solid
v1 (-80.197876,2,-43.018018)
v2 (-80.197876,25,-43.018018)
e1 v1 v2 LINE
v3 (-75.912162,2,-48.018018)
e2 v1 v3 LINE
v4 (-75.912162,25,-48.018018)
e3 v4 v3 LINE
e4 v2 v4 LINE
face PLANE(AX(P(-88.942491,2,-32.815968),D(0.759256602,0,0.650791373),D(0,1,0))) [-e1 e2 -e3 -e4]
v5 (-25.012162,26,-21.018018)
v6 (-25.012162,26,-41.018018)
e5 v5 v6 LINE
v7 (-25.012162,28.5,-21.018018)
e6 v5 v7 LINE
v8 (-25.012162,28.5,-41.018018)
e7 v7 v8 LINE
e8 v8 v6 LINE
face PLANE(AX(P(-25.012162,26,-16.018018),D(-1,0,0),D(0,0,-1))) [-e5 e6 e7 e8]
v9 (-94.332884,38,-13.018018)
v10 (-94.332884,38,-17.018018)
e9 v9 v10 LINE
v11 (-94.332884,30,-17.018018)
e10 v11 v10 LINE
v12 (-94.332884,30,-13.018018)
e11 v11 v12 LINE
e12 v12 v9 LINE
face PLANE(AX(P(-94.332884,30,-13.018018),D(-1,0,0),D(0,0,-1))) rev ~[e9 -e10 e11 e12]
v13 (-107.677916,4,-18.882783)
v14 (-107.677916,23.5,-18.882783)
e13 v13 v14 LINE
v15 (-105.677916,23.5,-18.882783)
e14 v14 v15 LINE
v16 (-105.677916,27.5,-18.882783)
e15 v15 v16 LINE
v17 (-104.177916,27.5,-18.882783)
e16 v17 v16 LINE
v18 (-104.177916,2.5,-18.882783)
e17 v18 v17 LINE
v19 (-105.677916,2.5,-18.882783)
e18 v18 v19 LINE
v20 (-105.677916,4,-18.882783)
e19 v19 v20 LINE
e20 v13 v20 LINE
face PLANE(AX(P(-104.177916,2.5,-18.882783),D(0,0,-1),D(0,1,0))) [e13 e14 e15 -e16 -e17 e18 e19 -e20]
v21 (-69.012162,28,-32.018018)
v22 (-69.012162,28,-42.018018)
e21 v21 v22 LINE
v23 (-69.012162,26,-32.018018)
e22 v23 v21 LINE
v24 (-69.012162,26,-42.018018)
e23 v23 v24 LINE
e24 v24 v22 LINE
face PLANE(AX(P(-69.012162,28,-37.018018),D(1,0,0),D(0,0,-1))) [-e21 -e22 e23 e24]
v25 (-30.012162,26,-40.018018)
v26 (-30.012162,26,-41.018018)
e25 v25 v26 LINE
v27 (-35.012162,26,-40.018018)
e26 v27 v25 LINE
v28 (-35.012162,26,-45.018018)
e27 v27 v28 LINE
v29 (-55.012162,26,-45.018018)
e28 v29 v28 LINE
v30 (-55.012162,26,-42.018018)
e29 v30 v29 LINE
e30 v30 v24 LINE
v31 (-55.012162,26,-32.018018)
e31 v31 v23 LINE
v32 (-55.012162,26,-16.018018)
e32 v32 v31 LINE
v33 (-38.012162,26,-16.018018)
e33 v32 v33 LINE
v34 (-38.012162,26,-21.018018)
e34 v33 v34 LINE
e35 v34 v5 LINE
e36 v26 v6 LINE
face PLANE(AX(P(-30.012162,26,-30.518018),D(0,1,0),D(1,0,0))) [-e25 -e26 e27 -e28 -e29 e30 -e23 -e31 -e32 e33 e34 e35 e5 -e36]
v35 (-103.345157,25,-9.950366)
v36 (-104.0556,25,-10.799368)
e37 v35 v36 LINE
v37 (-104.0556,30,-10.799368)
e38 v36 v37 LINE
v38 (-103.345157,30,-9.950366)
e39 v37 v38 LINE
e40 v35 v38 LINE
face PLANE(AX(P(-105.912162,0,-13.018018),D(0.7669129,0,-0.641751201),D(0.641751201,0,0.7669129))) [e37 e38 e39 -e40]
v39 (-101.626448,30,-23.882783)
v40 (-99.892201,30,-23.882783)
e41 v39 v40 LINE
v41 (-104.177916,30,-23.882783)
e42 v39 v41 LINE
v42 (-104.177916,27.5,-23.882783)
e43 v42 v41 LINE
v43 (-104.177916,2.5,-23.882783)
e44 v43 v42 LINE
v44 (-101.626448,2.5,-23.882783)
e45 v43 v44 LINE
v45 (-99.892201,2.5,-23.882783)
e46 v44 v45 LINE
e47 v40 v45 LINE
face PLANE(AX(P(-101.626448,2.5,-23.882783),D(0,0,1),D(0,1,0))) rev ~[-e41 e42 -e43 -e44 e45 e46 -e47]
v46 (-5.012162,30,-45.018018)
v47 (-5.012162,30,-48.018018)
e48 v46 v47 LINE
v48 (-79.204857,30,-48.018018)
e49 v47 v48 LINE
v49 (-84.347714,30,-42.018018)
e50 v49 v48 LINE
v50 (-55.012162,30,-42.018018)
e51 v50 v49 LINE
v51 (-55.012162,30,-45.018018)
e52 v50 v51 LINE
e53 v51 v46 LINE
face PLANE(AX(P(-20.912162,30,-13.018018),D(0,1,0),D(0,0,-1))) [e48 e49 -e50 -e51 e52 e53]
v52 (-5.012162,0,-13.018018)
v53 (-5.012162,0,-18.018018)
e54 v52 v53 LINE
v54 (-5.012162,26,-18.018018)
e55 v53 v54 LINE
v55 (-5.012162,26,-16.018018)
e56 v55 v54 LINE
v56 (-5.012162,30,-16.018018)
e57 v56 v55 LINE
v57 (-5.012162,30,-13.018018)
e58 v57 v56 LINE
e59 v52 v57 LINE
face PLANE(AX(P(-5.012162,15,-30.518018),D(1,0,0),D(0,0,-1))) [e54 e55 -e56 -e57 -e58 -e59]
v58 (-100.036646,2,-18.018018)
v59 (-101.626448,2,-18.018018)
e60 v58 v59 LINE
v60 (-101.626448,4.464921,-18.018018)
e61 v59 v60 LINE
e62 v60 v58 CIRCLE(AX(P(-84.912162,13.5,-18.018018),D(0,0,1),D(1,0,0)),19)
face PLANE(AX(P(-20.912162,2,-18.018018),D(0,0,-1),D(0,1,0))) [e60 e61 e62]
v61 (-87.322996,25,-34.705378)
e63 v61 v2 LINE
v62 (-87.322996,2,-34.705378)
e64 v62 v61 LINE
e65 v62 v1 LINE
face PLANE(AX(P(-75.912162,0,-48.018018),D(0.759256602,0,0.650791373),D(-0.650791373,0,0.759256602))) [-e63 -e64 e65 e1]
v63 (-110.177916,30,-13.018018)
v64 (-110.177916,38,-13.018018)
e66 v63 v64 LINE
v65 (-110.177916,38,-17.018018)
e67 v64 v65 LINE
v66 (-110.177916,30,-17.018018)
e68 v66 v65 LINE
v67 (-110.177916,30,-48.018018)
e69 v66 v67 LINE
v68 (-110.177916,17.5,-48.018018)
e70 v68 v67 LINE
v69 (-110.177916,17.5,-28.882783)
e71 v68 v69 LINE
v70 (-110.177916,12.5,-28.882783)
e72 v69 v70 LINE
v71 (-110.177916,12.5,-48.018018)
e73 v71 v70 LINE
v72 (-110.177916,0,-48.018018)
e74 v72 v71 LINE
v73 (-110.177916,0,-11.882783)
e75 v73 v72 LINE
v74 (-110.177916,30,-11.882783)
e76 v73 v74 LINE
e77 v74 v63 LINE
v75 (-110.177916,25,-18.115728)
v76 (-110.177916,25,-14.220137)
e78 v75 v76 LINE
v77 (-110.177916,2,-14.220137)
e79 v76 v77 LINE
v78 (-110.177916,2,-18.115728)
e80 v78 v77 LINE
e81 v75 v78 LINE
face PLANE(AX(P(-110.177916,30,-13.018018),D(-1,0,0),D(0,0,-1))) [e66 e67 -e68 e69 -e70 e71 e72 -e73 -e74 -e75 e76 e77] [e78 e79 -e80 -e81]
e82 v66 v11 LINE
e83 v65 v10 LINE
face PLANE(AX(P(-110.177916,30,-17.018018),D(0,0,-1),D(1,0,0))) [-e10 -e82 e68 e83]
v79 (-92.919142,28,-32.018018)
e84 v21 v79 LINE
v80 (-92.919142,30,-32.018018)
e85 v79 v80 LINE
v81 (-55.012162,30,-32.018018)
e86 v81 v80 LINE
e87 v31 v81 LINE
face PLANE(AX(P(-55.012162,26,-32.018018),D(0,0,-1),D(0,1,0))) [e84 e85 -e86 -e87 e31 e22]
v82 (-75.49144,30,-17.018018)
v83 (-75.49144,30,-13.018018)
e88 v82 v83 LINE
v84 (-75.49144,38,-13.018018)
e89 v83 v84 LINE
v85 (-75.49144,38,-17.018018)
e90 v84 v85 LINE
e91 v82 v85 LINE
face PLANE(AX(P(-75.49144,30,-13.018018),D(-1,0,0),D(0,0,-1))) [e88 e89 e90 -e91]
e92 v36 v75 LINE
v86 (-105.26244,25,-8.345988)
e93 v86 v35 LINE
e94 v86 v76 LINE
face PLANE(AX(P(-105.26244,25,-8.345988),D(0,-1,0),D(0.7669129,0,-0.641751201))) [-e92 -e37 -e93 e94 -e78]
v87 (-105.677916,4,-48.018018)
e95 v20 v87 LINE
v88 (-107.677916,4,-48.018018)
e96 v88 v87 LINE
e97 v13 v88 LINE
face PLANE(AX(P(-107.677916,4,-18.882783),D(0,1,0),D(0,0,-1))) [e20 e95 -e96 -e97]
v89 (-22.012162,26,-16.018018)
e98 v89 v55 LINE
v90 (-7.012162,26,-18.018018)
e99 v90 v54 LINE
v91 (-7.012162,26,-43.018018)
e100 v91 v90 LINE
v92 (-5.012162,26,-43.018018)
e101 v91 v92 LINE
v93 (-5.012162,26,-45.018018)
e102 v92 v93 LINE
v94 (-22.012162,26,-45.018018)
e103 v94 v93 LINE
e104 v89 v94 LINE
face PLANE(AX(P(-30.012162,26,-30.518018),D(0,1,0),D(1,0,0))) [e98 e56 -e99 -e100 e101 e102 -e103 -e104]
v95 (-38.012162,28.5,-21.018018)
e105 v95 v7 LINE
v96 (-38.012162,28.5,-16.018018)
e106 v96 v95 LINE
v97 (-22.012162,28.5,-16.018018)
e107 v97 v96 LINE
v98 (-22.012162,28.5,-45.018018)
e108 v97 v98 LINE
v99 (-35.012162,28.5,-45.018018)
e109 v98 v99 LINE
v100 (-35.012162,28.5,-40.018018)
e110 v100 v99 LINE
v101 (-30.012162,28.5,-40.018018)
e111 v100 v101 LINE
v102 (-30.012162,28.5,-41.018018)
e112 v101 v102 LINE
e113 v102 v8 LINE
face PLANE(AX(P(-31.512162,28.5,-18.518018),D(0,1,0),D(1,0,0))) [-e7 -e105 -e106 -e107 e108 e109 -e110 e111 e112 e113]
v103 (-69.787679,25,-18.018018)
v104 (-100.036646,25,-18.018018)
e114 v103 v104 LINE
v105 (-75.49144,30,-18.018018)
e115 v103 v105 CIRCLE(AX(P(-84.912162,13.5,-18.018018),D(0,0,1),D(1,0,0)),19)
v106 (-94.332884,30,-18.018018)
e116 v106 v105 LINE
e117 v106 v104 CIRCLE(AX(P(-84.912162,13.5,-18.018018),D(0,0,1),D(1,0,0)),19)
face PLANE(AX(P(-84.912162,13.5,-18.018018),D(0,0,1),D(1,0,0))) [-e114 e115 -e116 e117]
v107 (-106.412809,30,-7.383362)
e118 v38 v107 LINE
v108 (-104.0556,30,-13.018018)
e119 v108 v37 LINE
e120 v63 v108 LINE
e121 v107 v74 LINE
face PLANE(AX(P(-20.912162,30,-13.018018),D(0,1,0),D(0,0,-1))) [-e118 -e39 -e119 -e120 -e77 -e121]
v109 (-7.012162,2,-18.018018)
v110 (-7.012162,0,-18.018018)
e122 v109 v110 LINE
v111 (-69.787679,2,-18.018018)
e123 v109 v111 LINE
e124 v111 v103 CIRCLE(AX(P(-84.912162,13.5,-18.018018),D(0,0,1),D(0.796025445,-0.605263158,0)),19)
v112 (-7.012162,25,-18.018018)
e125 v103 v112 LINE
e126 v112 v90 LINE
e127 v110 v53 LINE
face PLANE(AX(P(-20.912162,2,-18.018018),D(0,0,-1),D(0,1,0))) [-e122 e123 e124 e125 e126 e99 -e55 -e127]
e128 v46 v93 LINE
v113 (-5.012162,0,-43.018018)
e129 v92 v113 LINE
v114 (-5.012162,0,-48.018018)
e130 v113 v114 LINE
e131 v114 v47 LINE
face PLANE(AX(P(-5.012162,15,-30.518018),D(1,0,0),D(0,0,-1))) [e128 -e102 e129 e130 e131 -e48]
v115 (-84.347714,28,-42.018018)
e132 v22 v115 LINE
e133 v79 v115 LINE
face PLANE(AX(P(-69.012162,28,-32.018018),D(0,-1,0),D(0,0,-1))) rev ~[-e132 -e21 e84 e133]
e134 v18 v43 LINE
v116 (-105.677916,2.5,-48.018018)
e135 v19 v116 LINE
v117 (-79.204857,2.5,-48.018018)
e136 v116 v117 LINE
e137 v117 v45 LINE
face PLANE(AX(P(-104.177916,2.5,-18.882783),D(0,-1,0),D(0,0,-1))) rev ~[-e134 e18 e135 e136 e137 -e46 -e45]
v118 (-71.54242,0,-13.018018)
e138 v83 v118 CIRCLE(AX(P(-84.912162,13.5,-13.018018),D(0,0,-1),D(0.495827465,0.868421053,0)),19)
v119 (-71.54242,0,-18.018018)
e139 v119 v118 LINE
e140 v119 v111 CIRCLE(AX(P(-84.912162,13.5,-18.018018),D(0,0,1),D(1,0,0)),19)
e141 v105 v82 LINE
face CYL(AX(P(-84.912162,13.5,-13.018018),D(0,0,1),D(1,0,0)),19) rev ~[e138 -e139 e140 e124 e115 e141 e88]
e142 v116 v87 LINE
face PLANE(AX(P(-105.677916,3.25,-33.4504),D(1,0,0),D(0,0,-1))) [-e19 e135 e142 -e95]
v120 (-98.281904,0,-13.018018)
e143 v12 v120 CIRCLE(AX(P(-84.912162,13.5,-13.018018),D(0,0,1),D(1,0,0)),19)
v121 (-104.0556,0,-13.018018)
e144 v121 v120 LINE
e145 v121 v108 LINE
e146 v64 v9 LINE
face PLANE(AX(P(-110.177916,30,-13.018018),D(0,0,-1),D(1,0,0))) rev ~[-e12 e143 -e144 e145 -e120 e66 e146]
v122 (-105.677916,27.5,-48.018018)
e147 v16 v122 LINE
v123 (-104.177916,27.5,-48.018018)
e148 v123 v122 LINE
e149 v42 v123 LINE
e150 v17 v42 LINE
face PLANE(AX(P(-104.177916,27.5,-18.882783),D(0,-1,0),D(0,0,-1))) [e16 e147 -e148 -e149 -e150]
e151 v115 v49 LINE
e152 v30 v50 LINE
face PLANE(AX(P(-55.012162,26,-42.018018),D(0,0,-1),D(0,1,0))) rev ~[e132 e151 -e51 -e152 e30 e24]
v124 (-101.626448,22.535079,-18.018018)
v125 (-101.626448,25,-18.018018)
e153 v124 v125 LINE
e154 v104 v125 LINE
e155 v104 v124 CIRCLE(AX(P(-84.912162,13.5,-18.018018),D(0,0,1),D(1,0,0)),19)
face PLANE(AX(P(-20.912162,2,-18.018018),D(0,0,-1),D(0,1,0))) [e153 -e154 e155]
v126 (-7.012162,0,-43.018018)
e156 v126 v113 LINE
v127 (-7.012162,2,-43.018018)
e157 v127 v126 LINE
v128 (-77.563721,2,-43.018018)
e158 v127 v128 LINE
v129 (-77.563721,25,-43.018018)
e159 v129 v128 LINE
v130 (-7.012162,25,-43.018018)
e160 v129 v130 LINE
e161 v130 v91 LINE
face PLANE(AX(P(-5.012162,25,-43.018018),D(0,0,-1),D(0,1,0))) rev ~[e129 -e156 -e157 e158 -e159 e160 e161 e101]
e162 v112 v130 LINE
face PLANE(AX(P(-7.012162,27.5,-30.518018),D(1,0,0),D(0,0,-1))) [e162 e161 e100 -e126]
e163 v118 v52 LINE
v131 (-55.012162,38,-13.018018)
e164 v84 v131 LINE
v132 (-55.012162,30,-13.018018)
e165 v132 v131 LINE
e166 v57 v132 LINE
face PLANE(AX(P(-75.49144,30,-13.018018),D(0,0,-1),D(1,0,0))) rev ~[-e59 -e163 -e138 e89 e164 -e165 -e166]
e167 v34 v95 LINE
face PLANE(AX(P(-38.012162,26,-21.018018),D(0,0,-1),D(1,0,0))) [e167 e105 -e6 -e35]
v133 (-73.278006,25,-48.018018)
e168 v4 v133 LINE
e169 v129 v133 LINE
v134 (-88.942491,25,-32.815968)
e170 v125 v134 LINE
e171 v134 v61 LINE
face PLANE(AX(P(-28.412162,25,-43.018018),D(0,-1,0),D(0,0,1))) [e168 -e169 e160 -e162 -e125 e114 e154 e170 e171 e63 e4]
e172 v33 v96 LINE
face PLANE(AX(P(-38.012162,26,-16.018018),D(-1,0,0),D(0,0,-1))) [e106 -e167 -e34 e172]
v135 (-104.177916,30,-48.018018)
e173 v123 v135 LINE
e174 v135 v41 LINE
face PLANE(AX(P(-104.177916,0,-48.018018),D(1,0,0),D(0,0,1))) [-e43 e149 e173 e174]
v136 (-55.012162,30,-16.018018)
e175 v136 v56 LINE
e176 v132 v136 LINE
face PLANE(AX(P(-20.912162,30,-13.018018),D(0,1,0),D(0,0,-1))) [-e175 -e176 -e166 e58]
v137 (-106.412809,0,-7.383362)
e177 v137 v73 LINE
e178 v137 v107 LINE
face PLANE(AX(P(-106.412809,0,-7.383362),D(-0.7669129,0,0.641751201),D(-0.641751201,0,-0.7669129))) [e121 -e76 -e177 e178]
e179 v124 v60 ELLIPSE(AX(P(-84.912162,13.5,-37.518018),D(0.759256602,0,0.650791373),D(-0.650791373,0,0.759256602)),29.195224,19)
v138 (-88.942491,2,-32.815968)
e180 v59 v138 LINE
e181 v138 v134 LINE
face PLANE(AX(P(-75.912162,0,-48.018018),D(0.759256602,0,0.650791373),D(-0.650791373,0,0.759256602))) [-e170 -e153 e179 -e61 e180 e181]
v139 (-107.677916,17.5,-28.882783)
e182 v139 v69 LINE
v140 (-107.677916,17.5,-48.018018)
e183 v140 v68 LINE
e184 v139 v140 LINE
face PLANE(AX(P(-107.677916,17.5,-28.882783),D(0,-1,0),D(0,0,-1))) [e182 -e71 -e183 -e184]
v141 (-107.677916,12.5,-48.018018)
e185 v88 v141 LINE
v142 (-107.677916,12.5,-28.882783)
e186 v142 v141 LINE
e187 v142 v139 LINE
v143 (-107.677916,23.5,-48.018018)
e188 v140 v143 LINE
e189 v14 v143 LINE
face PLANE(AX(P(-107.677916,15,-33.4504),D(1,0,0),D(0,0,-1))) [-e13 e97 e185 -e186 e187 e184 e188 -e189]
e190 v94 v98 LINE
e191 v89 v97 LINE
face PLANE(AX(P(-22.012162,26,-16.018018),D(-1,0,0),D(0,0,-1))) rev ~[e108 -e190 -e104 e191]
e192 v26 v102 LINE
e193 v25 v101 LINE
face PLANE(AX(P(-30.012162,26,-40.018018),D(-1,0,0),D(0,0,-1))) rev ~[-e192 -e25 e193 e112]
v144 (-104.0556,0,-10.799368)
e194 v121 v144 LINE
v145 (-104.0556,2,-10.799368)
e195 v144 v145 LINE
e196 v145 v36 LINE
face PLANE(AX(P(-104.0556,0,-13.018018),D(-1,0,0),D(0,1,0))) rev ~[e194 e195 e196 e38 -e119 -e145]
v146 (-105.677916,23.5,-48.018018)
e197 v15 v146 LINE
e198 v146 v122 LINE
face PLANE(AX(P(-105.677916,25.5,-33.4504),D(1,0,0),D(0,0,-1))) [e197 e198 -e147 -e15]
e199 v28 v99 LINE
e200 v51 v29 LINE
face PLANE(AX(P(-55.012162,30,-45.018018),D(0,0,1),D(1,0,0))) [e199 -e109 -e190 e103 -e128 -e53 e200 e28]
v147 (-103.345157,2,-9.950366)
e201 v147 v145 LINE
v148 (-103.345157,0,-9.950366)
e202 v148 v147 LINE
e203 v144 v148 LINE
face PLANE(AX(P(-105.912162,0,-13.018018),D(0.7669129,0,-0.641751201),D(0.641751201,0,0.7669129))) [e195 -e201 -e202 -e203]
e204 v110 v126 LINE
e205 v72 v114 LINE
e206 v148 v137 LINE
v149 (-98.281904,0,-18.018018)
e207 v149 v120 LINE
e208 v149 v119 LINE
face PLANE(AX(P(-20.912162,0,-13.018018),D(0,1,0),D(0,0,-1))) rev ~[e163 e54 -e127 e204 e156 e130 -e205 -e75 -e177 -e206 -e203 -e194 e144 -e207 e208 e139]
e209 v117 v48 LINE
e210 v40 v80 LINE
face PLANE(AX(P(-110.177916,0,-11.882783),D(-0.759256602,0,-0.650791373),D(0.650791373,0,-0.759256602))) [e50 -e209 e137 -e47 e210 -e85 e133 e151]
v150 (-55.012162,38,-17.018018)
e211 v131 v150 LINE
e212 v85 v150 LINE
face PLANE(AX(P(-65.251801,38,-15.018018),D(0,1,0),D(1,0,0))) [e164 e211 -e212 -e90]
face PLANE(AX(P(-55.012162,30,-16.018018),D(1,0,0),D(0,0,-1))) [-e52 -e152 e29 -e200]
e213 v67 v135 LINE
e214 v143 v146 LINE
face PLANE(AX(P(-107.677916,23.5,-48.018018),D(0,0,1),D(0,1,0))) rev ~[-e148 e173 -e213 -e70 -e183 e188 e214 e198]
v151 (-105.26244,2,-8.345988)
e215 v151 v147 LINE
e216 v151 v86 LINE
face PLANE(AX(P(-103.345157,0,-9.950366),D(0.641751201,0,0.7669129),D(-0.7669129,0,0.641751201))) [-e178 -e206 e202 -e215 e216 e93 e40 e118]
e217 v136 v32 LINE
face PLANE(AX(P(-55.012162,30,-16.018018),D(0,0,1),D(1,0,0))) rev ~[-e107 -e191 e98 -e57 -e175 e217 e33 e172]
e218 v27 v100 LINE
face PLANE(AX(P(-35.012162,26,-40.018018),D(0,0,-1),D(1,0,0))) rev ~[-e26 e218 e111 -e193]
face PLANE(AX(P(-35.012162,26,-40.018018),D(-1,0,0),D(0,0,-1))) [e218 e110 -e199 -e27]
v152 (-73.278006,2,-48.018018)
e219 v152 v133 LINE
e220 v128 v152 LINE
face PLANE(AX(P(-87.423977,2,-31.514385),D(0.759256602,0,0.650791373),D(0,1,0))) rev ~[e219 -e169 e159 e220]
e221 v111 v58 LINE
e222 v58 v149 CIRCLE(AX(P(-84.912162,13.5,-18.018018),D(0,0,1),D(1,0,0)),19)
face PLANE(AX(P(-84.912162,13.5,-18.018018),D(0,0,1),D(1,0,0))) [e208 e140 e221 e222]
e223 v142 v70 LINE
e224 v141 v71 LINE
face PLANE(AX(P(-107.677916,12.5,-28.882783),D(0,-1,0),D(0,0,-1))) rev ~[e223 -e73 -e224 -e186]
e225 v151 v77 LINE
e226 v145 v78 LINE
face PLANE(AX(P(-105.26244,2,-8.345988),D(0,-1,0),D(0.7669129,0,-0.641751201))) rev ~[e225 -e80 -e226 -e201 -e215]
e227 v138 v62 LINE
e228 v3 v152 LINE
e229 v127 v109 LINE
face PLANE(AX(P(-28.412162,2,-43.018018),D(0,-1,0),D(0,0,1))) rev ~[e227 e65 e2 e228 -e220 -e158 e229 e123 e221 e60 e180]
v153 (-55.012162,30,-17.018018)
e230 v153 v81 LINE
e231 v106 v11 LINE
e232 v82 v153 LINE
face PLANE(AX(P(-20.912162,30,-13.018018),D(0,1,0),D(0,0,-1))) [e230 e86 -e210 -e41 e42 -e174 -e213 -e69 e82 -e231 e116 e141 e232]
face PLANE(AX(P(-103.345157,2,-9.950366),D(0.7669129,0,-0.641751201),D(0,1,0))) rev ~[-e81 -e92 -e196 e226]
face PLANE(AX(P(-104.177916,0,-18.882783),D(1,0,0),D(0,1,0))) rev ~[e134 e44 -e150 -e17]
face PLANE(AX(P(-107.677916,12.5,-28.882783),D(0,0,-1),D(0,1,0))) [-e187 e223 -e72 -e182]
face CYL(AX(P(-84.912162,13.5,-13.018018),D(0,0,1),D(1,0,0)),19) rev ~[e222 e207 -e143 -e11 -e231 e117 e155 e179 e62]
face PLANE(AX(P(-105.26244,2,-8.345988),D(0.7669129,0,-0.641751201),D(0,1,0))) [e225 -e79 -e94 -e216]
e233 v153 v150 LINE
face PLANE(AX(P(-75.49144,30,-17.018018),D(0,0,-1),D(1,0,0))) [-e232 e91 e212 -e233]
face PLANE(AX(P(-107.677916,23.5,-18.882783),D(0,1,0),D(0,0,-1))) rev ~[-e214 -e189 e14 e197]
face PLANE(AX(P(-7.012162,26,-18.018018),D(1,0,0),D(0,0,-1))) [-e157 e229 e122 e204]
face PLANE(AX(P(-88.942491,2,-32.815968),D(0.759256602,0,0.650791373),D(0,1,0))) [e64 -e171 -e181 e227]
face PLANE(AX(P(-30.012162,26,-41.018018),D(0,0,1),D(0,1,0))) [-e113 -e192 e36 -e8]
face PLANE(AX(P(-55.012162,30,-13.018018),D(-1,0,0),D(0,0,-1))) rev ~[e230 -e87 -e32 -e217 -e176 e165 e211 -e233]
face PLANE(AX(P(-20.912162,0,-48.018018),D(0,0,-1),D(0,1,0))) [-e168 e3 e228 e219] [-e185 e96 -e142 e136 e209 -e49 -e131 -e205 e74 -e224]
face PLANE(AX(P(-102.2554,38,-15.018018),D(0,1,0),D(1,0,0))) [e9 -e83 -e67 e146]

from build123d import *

# Parameters (mm, degrees)
BOSS_EXTRUDE3_DEPTH       = 30
SKETCH6_W                 = 25
SKETCH6_H                 = 23
CUT_EXTRUDE1_DEPTH        = 86
SKETCH7_W                 = 25
SKETCH7_H                 = 5
CUT_EXTRUDE2_DEPTH        = 7.5
SKETCH8_W                 = 25
SKETCH8_H                 = 2
CUT_EXTRUDE3_DEPTH        = 1
SKETCH9_R                 = 19
CUT_EXTRUDE4_DEPTH        = 5
BOSS_EXTRUDE4_DEPTH       = 30
SKETCH10_W                = 1.856561782
SKETCH10_H                = 30
BOSS_EXTRUDE5_DEPTH       = 3
BOSS_EXTRUDE6_DEPTH       = 30
SKETCH11_W                = 2.5
SKETCH11_H                = 23
CUT_EXTRUDE5_DEPTH        = 34.579503854
SKETCH12_W                = 29.135235428
SKETCH12_H                = 25
CUT_EXTRUDE6_DEPTH        = 3.5
SKETCH13_W                = 19.135235428
SKETCH13_H                = 5
CUT_EXTRUDE7_DEPTH        = 3.5
SKETCH14_W                = 29.135235428
SKETCH14_H                = 4
BOSS_EXTRUDE7_DEPTH       = 2
SKETCH16_W                = 29.135235428
SKETCH16_H                = 1.5
BOSS_EXTRUDE8_DEPTH       = 2
SKETCH17_W                = 2.551467674
SKETCH17_H                = 30
BOSS_EXTRUDE9_DEPTH       = 5
BOSS_EXTRUDE10_REACH      = 85.266
SKETCH18_W                = 29.135235428
SKETCH18_H                = 2.5
SKETCH19_W                = 2.48850009
SKETCH19_H                = 23
BOSS_EXTRUDE11_DEPTH      = 2
CUT_EXTRUDE8_START        = -2.4885
SKETCH20_W                = 2
SKETCH20_H                = 23
CUT_EXTRUDE8_DEPTH        = 21.736568
BOSS_EXTRUDE12_REACH      = 82.714
SKETCH21_W                = 2.023287715
SKETCH21_H                = 27.5
SKETCH22_W                = 35
SKETCH22_H                = 30
BOSS_EXTRUDE13_DEPTH      = 15.9
BOSS_EXTRUDE13_DEPTH_BACK = 7.5
SKETCH23_W                = 25
SKETCH23_H                = 23
CUT_EXTRUDE9_DEPTH        = 24.4
SKETCH24_W                = 25
SKETCH24_H                = 5
CUT_EXTRUDE10_DEPTH       = 2
SKETCH25_W                = 50
SKETCH25_H                = 29
CUT_EXTRUDE11_DEPTH       = 4
SKETCH26_W                = 3
SKETCH26_H                = 29
BOSS_EXTRUDE14_DEPTH      = 2.5
SKETCH27_W                = 5
SKETCH27_H                = 5
BOSS_EXTRUDE15_DEPTH      = 2.5
BOSS_EXTRUDE16_REACH      = 27
SKETCH28_W                = 4
SKETCH28_H                = 2.5
SKETCH29_W                = 13
SKETCH29_H                = 5
BOSS_EXTRUDE17_DEPTH      = 2.5
SKETCH30_W                = 10
SKETCH30_H                = 4
CUT_EXTRUDE12_DEPTH       = 14
CUT_EXTRUDE13_REACH       = 43.166
SKETCH31_W                = 10
SKETCH31_H                = 2
SKETCH32_W                = 2
SKETCH32_H                = 25
CUT_EXTRUDE14_DEPTH       = 27
SKETCH33_W                = 20.479278159
SKETCH33_H                = 4
BOSS_EXTRUDE18_DEPTH      = 8
SKETCH34_W                = 15.845031547
SKETCH34_H                = 4
BOSS_EXTRUDE19_DEPTH      = 8


with BuildPart() as part:
    # Sketch2 → Boss-Extrude3 (new body)
    with BuildSketch(Plane(origin=(0, 0, 0), x_dir=(1, 0, 0), z_dir=(0, 1, 0))):
        Polygon((-105.912162162, 13.018018018), (-20.912162162, 13.018018018), (-20.912162162, 48.018018018), (-75.912162162, 48.018018018), align=None)
    extrude(amount=BOSS_EXTRUDE3_DEPTH)

    # Sketch6 → Cut-Extrude1 (cut, through all)
    with BuildSketch(Plane(origin=(-20.912162162, 0, 0), x_dir=(0, 0, -1), z_dir=(1, 0, 0))):
        with Locations((30.518018018, 13.5)):
            Rectangle(SKETCH6_W, SKETCH6_H)
    extrude(amount=-CUT_EXTRUDE1_DEPTH, mode=Mode.SUBTRACT)

    # Sketch7 → Cut-Extrude2 (cut)
    with BuildSketch(Plane(origin=(-20.912162162, 0, 0), x_dir=(0, 0, -1), z_dir=(1, 0, 0))):
        with Locations((30.518018018, 27.5)):
            Rectangle(SKETCH7_W, SKETCH7_H)
    extrude(amount=-CUT_EXTRUDE2_DEPTH, mode=Mode.SUBTRACT)

    # Sketch8 → Cut-Extrude3 (cut)
    with BuildSketch(Plane(origin=(-20.912162162, 0, 0), x_dir=(0, 0, -1), z_dir=(1, 0, 0))):
        with Locations((30.518018018, 1)):
            Rectangle(SKETCH8_W, SKETCH8_H)
    extrude(amount=-CUT_EXTRUDE3_DEPTH, mode=Mode.SUBTRACT)

    # Sketch9 → Cut-Extrude4 (cut)
    with BuildSketch(Plane.XY.offset(-13.018018018)):
        with Locations((-84.912162162, 13.5)):
            Circle(SKETCH9_R)
    extrude(amount=-CUT_EXTRUDE4_DEPTH, mode=Mode.SUBTRACT)

    # Sketch3 → Boss-Extrude4 (add)
    with BuildSketch(Plane(origin=(0, 0, 0), x_dir=(1, 0, 0), z_dir=(0, 1, 0))):
        Polygon((-106.412808957, 7.383361614), (-110.17791555, 11.88278259), (-79.204856611, 48.018018018), (-75.912162162, 48.018018018), (-105.912162162, 13.018018018), (-103.345157358, 9.950366419), align=None)
    extrude(amount=BOSS_EXTRUDE4_DEPTH)

    # Sketch10 → Boss-Extrude5 (add)
    with BuildSketch(Plane.XY.offset(-13.018018018)):
        with Locations((-104.983881271, 15)):
            Rectangle(SKETCH10_W, SKETCH10_H)
    extrude(amount=BOSS_EXTRUDE5_DEPTH)

    # Sketch4 → Boss-Extrude6 (add)
    with BuildSketch(Plane(origin=(0, 0, 0), x_dir=(1, 0, 0), z_dir=(0, 1, 0))):
        Polygon((-110.17791555, 11.88278259), (-110.17791555, 48.018018018), (-104.17791555, 48.018018018), (-104.17791555, 18.88278259), align=None)
    extrude(amount=BOSS_EXTRUDE6_DEPTH)

    # Sketch11 → Cut-Extrude5 (cut, through all)
    with BuildSketch(Plane(origin=(-47.459390138, 0, -56.715466139), x_dir=(0.7669129, 0, -0.641751201), z_dir=(0.641751201, 0, 0.7669129))):
        with Locations((-74.121074711, 13.5)):
            Rectangle(SKETCH11_W, SKETCH11_H)
    extrude(amount=-CUT_EXTRUDE5_DEPTH, mode=Mode.SUBTRACT)

    # Sketch12 → Cut-Extrude6 (cut)
    with BuildSketch(Plane(origin=(-104.17791555, 0, 0), x_dir=(0, 0, -1), z_dir=(1, 0, 0))):
        with Locations((33.450400304, 15)):
            Rectangle(SKETCH12_W, SKETCH12_H)
    extrude(amount=-CUT_EXTRUDE6_DEPTH, mode=Mode.SUBTRACT)

    # Sketch13 → Cut-Extrude7 (cut, through all)
    with BuildSketch(Plane(origin=(-107.67791555, 0, 0), x_dir=(0, 0, -1), z_dir=(1, 0, 0))):
        with Locations((38.450400304, 15)):
            Rectangle(SKETCH13_W, SKETCH13_H)
    extrude(amount=-CUT_EXTRUDE7_DEPTH, mode=Mode.SUBTRACT)

    # Sketch14 → Boss-Extrude7 (add)
    with BuildSketch(Plane(origin=(-107.67791555, 0, 0), x_dir=(0, 0, -1), z_dir=(1, 0, 0))):
        with Locations((33.450400304, 25.5)):
            Rectangle(SKETCH14_W, SKETCH14_H)
    extrude(amount=BOSS_EXTRUDE7_DEPTH)

    # Sketch16 → Boss-Extrude8 (add)
    with BuildSketch(Plane(origin=(-107.67791555, 0, 0), x_dir=(0, 0, -1), z_dir=(1, 0, 0))):
        with Locations((33.450400304, 3.25)):
            Rectangle(SKETCH16_W, SKETCH16_H)
    extrude(amount=BOSS_EXTRUDE8_DEPTH)

    # Sketch17 → Boss-Extrude9 (add)
    with BuildSketch(Plane(origin=(0, 0, -18.88278259), x_dir=(-1, 0, 0), z_dir=(0, 0, -1))):
        with Locations((102.902181713, 15)):
            Rectangle(SKETCH17_W, SKETCH17_H)
    extrude(amount=BOSS_EXTRUDE9_DEPTH)

    # Boss-Extrude10: up to this face of the body (flat: up to its plane)
    boss_extrude10_end = Plane(part.part.faces().sort_by_distance((-90.415652244, 15, -34.938756447))[0])
    # Sketch18 → Boss-Extrude10 (add, up to the picked face)
    with BuildSketch(Plane(origin=(-104.17791555, 0, 0), x_dir=(0, 0, -1), z_dir=(1, 0, 0)), mode=Mode.PRIVATE) as boss_extrude10_sk1:
        with Locations((33.450400304, 1.25)):
            Rectangle(SKETCH18_W, SKETCH18_H)
    boss_extrude10_tool1 = split(extrude(boss_extrude10_sk1.sketch, amount=BOSS_EXTRUDE10_REACH, mode=Mode.PRIVATE), bisect_by=boss_extrude10_end, keep=Keep.BOTH, mode=Mode.PRIVATE)
    add(boss_extrude10_tool1.solids().sort_by_distance((-104.177916, 1.25, -33.4504))[0])

    # Sketch19 → Boss-Extrude11 (add)
    with BuildSketch(Plane(origin=(-67.487678855, 0, -57.846581876), x_dir=(0.650791373, 0, -0.759256602), z_dir=(0.759256602, 0, 0.650791373))):
        with Locations((-31.723015124, 13.5)):
            Rectangle(SKETCH19_W, SKETCH19_H)
    extrude(amount=BOSS_EXTRUDE11_DEPTH)

    # Sketch20 → Cut-Extrude8 (cut)
    with BuildSketch(Plane(origin=(-19.835317387, 0, 23.141203618), x_dir=(-0.759256602, 0, -0.650791373), z_dir=(0.650791373, 0, -0.759256602)).offset(CUT_EXTRUDE8_START)):
        with Locations((87.886522218, 13.5)):
            Rectangle(SKETCH20_W, SKETCH20_H)
    extrude(amount=CUT_EXTRUDE8_DEPTH, mode=Mode.SUBTRACT)

    # Boss-Extrude12: up to this face of the body (flat: up to its plane)
    boss_extrude12_end = Plane(part.part.faces().sort_by_distance((-90.415652244, 16.25, -34.938756447))[0])
    # Sketch21 → Boss-Extrude12 (add, up to the picked face)
    with BuildSketch(Plane(origin=(-101.626447876, 0, 0), x_dir=(0, 0, -1), z_dir=(1, 0, 0)), mode=Mode.PRIVATE) as boss_extrude12_sk1:
        with Locations((22.871138733, 16.25)):
            Rectangle(SKETCH21_W, SKETCH21_H)
    boss_extrude12_tool1 = split(extrude(boss_extrude12_sk1.sketch, amount=BOSS_EXTRUDE12_REACH, mode=Mode.PRIVATE), bisect_by=boss_extrude12_end, keep=Keep.BOTH, mode=Mode.PRIVATE)
    add(boss_extrude12_tool1.solids().sort_by_distance((-101.626448, 16.25, -22.871139))[0])

    # Sketch22 → Boss-Extrude13 (add, two sides)
    with BuildSketch(Plane(origin=(-20.912162162, 0, 0), x_dir=(0, 0, -1), z_dir=(1, 0, 0))) as boss_extrude13_sk:
        with Locations((30.518018018, 15)):
            Rectangle(SKETCH22_W, SKETCH22_H)
    extrude(amount=BOSS_EXTRUDE13_DEPTH)
    extrude(boss_extrude13_sk.sketch, amount=-BOSS_EXTRUDE13_DEPTH_BACK)

    # Sketch23 → Cut-Extrude9 (cut, through all)
    with BuildSketch(Plane.ZY.offset(28.412162162)):
        with Locations((-30.518018018, 13.5)):
            Rectangle(SKETCH23_W, SKETCH23_H)
    extrude(amount=-CUT_EXTRUDE9_DEPTH, mode=Mode.SUBTRACT)

    # Sketch24 → Cut-Extrude10 (cut)
    with BuildSketch(Plane(origin=(-5.012162162, 0, 0), x_dir=(0, 0, -1), z_dir=(1, 0, 0))):
        with Locations((30.518018018, 27.5)):
            Rectangle(SKETCH24_W, SKETCH24_H)
    extrude(amount=-CUT_EXTRUDE10_DEPTH, mode=Mode.SUBTRACT)

    # Sketch25 → Cut-Extrude11 (cut)
    with BuildSketch(Plane(origin=(0, 30, 0), x_dir=(1, 0, 0), z_dir=(0, 1, 0))):
        with Locations((-30.012162162, 30.518018018)):
            Rectangle(SKETCH25_W, SKETCH25_H)
    extrude(amount=-CUT_EXTRUDE11_DEPTH, mode=Mode.SUBTRACT)

    # Sketch26 → Boss-Extrude14 (add)
    with BuildSketch(Plane(origin=(0, 26, 0), x_dir=(1, 0, 0), z_dir=(0, 1, 0))):
        with Locations((-23.512162162, 30.518018018)):
            Rectangle(SKETCH26_W, SKETCH26_H)
    extrude(amount=BOSS_EXTRUDE14_DEPTH)

    # Sketch27 → Boss-Extrude15 (add)
    with BuildSketch(Plane(origin=(0, 26, 0), x_dir=(1, 0, 0), z_dir=(0, 1, 0))):
        with Locations((-32.512162162, 42.518018018)):
            Rectangle(SKETCH27_W, SKETCH27_H)
    extrude(amount=BOSS_EXTRUDE15_DEPTH)

    # Sketch28 → Boss-Extrude16 (add, up to next)
    with BuildSketch(Plane(origin=(-30.012162162, 0, 0), x_dir=(0, 0, -1), z_dir=(1, 0, 0)), mode=Mode.PRIVATE) as boss_extrude16_sk1:
        with Locations((43.018018018, 27.25)):
            Rectangle(SKETCH28_W, SKETCH28_H)
    boss_extrude16_tool1 = extrude(boss_extrude16_sk1.sketch, amount=BOSS_EXTRUDE16_REACH, mode=Mode.PRIVATE) - part.part
    add(boss_extrude16_tool1.solids().sort_by_distance((-30.012162, 27.25, -43.018018))[0])

    # Sketch29 → Boss-Extrude17 (add)
    with BuildSketch(Plane(origin=(0, 26, 0), x_dir=(1, 0, 0), z_dir=(0, 1, 0))):
        with Locations((-31.512162162, 18.518018018)):
            Rectangle(SKETCH29_W, SKETCH29_H)
    extrude(amount=BOSS_EXTRUDE17_DEPTH)

    # Sketch30 → Cut-Extrude12 (cut)
    with BuildSketch(Plane(origin=(-55.012162162, 0, 0), x_dir=(0, 0, -1), z_dir=(1, 0, 0))):
        with Locations((37.018018018, 28)):
            Rectangle(SKETCH30_W, SKETCH30_H)
    extrude(amount=-CUT_EXTRUDE12_DEPTH, mode=Mode.SUBTRACT)

    # Sketch31 → Cut-Extrude13 (cut, up to next)
    with BuildSketch(Plane(origin=(-69.012162162, 0, 0), x_dir=(0, 0, -1), z_dir=(1, 0, 0)), mode=Mode.PRIVATE) as cut_extrude13_sk1:
        with Locations((37.018018018, 29)):
            Rectangle(SKETCH31_W, SKETCH31_H)
    cut_extrude13_tool1 = extrude(cut_extrude13_sk1.sketch, amount=-CUT_EXTRUDE13_REACH, mode=Mode.PRIVATE) & part.part
    add(cut_extrude13_tool1.solids().sort_by_distance((-69.012162, 29, -37.018018))[0], mode=Mode.SUBTRACT)

    # Sketch32 → Cut-Extrude14 (cut, through all)
    with BuildSketch(Plane(origin=(0, 26, 0), x_dir=(1, 0, 0), z_dir=(0, 1, 0))):
        with Locations((-6.012162162, 30.518018018)):
            Rectangle(SKETCH32_W, SKETCH32_H)
    extrude(amount=-CUT_EXTRUDE14_DEPTH, mode=Mode.SUBTRACT)

    # Sketch33 → Boss-Extrude18 (add)
    with BuildSketch(Plane(origin=(0, 30, 0), x_dir=(1, 0, 0), z_dir=(0, 1, 0))):
        with Locations((-65.251801242, 15.018018018)):
            Rectangle(SKETCH33_W, SKETCH33_H)
    extrude(amount=BOSS_EXTRUDE18_DEPTH)

    # Sketch34 → Boss-Extrude19 (add)
    with BuildSketch(Plane(origin=(0, 30, 0), x_dir=(1, 0, 0), z_dir=(0, 1, 0))):
        with Locations((-102.255399777, 15.018018018)):
            Rectangle(SKETCH34_W, SKETCH34_H)
    extrude(amount=BOSS_EXTRUDE19_DEPTH)


solid = part.part
